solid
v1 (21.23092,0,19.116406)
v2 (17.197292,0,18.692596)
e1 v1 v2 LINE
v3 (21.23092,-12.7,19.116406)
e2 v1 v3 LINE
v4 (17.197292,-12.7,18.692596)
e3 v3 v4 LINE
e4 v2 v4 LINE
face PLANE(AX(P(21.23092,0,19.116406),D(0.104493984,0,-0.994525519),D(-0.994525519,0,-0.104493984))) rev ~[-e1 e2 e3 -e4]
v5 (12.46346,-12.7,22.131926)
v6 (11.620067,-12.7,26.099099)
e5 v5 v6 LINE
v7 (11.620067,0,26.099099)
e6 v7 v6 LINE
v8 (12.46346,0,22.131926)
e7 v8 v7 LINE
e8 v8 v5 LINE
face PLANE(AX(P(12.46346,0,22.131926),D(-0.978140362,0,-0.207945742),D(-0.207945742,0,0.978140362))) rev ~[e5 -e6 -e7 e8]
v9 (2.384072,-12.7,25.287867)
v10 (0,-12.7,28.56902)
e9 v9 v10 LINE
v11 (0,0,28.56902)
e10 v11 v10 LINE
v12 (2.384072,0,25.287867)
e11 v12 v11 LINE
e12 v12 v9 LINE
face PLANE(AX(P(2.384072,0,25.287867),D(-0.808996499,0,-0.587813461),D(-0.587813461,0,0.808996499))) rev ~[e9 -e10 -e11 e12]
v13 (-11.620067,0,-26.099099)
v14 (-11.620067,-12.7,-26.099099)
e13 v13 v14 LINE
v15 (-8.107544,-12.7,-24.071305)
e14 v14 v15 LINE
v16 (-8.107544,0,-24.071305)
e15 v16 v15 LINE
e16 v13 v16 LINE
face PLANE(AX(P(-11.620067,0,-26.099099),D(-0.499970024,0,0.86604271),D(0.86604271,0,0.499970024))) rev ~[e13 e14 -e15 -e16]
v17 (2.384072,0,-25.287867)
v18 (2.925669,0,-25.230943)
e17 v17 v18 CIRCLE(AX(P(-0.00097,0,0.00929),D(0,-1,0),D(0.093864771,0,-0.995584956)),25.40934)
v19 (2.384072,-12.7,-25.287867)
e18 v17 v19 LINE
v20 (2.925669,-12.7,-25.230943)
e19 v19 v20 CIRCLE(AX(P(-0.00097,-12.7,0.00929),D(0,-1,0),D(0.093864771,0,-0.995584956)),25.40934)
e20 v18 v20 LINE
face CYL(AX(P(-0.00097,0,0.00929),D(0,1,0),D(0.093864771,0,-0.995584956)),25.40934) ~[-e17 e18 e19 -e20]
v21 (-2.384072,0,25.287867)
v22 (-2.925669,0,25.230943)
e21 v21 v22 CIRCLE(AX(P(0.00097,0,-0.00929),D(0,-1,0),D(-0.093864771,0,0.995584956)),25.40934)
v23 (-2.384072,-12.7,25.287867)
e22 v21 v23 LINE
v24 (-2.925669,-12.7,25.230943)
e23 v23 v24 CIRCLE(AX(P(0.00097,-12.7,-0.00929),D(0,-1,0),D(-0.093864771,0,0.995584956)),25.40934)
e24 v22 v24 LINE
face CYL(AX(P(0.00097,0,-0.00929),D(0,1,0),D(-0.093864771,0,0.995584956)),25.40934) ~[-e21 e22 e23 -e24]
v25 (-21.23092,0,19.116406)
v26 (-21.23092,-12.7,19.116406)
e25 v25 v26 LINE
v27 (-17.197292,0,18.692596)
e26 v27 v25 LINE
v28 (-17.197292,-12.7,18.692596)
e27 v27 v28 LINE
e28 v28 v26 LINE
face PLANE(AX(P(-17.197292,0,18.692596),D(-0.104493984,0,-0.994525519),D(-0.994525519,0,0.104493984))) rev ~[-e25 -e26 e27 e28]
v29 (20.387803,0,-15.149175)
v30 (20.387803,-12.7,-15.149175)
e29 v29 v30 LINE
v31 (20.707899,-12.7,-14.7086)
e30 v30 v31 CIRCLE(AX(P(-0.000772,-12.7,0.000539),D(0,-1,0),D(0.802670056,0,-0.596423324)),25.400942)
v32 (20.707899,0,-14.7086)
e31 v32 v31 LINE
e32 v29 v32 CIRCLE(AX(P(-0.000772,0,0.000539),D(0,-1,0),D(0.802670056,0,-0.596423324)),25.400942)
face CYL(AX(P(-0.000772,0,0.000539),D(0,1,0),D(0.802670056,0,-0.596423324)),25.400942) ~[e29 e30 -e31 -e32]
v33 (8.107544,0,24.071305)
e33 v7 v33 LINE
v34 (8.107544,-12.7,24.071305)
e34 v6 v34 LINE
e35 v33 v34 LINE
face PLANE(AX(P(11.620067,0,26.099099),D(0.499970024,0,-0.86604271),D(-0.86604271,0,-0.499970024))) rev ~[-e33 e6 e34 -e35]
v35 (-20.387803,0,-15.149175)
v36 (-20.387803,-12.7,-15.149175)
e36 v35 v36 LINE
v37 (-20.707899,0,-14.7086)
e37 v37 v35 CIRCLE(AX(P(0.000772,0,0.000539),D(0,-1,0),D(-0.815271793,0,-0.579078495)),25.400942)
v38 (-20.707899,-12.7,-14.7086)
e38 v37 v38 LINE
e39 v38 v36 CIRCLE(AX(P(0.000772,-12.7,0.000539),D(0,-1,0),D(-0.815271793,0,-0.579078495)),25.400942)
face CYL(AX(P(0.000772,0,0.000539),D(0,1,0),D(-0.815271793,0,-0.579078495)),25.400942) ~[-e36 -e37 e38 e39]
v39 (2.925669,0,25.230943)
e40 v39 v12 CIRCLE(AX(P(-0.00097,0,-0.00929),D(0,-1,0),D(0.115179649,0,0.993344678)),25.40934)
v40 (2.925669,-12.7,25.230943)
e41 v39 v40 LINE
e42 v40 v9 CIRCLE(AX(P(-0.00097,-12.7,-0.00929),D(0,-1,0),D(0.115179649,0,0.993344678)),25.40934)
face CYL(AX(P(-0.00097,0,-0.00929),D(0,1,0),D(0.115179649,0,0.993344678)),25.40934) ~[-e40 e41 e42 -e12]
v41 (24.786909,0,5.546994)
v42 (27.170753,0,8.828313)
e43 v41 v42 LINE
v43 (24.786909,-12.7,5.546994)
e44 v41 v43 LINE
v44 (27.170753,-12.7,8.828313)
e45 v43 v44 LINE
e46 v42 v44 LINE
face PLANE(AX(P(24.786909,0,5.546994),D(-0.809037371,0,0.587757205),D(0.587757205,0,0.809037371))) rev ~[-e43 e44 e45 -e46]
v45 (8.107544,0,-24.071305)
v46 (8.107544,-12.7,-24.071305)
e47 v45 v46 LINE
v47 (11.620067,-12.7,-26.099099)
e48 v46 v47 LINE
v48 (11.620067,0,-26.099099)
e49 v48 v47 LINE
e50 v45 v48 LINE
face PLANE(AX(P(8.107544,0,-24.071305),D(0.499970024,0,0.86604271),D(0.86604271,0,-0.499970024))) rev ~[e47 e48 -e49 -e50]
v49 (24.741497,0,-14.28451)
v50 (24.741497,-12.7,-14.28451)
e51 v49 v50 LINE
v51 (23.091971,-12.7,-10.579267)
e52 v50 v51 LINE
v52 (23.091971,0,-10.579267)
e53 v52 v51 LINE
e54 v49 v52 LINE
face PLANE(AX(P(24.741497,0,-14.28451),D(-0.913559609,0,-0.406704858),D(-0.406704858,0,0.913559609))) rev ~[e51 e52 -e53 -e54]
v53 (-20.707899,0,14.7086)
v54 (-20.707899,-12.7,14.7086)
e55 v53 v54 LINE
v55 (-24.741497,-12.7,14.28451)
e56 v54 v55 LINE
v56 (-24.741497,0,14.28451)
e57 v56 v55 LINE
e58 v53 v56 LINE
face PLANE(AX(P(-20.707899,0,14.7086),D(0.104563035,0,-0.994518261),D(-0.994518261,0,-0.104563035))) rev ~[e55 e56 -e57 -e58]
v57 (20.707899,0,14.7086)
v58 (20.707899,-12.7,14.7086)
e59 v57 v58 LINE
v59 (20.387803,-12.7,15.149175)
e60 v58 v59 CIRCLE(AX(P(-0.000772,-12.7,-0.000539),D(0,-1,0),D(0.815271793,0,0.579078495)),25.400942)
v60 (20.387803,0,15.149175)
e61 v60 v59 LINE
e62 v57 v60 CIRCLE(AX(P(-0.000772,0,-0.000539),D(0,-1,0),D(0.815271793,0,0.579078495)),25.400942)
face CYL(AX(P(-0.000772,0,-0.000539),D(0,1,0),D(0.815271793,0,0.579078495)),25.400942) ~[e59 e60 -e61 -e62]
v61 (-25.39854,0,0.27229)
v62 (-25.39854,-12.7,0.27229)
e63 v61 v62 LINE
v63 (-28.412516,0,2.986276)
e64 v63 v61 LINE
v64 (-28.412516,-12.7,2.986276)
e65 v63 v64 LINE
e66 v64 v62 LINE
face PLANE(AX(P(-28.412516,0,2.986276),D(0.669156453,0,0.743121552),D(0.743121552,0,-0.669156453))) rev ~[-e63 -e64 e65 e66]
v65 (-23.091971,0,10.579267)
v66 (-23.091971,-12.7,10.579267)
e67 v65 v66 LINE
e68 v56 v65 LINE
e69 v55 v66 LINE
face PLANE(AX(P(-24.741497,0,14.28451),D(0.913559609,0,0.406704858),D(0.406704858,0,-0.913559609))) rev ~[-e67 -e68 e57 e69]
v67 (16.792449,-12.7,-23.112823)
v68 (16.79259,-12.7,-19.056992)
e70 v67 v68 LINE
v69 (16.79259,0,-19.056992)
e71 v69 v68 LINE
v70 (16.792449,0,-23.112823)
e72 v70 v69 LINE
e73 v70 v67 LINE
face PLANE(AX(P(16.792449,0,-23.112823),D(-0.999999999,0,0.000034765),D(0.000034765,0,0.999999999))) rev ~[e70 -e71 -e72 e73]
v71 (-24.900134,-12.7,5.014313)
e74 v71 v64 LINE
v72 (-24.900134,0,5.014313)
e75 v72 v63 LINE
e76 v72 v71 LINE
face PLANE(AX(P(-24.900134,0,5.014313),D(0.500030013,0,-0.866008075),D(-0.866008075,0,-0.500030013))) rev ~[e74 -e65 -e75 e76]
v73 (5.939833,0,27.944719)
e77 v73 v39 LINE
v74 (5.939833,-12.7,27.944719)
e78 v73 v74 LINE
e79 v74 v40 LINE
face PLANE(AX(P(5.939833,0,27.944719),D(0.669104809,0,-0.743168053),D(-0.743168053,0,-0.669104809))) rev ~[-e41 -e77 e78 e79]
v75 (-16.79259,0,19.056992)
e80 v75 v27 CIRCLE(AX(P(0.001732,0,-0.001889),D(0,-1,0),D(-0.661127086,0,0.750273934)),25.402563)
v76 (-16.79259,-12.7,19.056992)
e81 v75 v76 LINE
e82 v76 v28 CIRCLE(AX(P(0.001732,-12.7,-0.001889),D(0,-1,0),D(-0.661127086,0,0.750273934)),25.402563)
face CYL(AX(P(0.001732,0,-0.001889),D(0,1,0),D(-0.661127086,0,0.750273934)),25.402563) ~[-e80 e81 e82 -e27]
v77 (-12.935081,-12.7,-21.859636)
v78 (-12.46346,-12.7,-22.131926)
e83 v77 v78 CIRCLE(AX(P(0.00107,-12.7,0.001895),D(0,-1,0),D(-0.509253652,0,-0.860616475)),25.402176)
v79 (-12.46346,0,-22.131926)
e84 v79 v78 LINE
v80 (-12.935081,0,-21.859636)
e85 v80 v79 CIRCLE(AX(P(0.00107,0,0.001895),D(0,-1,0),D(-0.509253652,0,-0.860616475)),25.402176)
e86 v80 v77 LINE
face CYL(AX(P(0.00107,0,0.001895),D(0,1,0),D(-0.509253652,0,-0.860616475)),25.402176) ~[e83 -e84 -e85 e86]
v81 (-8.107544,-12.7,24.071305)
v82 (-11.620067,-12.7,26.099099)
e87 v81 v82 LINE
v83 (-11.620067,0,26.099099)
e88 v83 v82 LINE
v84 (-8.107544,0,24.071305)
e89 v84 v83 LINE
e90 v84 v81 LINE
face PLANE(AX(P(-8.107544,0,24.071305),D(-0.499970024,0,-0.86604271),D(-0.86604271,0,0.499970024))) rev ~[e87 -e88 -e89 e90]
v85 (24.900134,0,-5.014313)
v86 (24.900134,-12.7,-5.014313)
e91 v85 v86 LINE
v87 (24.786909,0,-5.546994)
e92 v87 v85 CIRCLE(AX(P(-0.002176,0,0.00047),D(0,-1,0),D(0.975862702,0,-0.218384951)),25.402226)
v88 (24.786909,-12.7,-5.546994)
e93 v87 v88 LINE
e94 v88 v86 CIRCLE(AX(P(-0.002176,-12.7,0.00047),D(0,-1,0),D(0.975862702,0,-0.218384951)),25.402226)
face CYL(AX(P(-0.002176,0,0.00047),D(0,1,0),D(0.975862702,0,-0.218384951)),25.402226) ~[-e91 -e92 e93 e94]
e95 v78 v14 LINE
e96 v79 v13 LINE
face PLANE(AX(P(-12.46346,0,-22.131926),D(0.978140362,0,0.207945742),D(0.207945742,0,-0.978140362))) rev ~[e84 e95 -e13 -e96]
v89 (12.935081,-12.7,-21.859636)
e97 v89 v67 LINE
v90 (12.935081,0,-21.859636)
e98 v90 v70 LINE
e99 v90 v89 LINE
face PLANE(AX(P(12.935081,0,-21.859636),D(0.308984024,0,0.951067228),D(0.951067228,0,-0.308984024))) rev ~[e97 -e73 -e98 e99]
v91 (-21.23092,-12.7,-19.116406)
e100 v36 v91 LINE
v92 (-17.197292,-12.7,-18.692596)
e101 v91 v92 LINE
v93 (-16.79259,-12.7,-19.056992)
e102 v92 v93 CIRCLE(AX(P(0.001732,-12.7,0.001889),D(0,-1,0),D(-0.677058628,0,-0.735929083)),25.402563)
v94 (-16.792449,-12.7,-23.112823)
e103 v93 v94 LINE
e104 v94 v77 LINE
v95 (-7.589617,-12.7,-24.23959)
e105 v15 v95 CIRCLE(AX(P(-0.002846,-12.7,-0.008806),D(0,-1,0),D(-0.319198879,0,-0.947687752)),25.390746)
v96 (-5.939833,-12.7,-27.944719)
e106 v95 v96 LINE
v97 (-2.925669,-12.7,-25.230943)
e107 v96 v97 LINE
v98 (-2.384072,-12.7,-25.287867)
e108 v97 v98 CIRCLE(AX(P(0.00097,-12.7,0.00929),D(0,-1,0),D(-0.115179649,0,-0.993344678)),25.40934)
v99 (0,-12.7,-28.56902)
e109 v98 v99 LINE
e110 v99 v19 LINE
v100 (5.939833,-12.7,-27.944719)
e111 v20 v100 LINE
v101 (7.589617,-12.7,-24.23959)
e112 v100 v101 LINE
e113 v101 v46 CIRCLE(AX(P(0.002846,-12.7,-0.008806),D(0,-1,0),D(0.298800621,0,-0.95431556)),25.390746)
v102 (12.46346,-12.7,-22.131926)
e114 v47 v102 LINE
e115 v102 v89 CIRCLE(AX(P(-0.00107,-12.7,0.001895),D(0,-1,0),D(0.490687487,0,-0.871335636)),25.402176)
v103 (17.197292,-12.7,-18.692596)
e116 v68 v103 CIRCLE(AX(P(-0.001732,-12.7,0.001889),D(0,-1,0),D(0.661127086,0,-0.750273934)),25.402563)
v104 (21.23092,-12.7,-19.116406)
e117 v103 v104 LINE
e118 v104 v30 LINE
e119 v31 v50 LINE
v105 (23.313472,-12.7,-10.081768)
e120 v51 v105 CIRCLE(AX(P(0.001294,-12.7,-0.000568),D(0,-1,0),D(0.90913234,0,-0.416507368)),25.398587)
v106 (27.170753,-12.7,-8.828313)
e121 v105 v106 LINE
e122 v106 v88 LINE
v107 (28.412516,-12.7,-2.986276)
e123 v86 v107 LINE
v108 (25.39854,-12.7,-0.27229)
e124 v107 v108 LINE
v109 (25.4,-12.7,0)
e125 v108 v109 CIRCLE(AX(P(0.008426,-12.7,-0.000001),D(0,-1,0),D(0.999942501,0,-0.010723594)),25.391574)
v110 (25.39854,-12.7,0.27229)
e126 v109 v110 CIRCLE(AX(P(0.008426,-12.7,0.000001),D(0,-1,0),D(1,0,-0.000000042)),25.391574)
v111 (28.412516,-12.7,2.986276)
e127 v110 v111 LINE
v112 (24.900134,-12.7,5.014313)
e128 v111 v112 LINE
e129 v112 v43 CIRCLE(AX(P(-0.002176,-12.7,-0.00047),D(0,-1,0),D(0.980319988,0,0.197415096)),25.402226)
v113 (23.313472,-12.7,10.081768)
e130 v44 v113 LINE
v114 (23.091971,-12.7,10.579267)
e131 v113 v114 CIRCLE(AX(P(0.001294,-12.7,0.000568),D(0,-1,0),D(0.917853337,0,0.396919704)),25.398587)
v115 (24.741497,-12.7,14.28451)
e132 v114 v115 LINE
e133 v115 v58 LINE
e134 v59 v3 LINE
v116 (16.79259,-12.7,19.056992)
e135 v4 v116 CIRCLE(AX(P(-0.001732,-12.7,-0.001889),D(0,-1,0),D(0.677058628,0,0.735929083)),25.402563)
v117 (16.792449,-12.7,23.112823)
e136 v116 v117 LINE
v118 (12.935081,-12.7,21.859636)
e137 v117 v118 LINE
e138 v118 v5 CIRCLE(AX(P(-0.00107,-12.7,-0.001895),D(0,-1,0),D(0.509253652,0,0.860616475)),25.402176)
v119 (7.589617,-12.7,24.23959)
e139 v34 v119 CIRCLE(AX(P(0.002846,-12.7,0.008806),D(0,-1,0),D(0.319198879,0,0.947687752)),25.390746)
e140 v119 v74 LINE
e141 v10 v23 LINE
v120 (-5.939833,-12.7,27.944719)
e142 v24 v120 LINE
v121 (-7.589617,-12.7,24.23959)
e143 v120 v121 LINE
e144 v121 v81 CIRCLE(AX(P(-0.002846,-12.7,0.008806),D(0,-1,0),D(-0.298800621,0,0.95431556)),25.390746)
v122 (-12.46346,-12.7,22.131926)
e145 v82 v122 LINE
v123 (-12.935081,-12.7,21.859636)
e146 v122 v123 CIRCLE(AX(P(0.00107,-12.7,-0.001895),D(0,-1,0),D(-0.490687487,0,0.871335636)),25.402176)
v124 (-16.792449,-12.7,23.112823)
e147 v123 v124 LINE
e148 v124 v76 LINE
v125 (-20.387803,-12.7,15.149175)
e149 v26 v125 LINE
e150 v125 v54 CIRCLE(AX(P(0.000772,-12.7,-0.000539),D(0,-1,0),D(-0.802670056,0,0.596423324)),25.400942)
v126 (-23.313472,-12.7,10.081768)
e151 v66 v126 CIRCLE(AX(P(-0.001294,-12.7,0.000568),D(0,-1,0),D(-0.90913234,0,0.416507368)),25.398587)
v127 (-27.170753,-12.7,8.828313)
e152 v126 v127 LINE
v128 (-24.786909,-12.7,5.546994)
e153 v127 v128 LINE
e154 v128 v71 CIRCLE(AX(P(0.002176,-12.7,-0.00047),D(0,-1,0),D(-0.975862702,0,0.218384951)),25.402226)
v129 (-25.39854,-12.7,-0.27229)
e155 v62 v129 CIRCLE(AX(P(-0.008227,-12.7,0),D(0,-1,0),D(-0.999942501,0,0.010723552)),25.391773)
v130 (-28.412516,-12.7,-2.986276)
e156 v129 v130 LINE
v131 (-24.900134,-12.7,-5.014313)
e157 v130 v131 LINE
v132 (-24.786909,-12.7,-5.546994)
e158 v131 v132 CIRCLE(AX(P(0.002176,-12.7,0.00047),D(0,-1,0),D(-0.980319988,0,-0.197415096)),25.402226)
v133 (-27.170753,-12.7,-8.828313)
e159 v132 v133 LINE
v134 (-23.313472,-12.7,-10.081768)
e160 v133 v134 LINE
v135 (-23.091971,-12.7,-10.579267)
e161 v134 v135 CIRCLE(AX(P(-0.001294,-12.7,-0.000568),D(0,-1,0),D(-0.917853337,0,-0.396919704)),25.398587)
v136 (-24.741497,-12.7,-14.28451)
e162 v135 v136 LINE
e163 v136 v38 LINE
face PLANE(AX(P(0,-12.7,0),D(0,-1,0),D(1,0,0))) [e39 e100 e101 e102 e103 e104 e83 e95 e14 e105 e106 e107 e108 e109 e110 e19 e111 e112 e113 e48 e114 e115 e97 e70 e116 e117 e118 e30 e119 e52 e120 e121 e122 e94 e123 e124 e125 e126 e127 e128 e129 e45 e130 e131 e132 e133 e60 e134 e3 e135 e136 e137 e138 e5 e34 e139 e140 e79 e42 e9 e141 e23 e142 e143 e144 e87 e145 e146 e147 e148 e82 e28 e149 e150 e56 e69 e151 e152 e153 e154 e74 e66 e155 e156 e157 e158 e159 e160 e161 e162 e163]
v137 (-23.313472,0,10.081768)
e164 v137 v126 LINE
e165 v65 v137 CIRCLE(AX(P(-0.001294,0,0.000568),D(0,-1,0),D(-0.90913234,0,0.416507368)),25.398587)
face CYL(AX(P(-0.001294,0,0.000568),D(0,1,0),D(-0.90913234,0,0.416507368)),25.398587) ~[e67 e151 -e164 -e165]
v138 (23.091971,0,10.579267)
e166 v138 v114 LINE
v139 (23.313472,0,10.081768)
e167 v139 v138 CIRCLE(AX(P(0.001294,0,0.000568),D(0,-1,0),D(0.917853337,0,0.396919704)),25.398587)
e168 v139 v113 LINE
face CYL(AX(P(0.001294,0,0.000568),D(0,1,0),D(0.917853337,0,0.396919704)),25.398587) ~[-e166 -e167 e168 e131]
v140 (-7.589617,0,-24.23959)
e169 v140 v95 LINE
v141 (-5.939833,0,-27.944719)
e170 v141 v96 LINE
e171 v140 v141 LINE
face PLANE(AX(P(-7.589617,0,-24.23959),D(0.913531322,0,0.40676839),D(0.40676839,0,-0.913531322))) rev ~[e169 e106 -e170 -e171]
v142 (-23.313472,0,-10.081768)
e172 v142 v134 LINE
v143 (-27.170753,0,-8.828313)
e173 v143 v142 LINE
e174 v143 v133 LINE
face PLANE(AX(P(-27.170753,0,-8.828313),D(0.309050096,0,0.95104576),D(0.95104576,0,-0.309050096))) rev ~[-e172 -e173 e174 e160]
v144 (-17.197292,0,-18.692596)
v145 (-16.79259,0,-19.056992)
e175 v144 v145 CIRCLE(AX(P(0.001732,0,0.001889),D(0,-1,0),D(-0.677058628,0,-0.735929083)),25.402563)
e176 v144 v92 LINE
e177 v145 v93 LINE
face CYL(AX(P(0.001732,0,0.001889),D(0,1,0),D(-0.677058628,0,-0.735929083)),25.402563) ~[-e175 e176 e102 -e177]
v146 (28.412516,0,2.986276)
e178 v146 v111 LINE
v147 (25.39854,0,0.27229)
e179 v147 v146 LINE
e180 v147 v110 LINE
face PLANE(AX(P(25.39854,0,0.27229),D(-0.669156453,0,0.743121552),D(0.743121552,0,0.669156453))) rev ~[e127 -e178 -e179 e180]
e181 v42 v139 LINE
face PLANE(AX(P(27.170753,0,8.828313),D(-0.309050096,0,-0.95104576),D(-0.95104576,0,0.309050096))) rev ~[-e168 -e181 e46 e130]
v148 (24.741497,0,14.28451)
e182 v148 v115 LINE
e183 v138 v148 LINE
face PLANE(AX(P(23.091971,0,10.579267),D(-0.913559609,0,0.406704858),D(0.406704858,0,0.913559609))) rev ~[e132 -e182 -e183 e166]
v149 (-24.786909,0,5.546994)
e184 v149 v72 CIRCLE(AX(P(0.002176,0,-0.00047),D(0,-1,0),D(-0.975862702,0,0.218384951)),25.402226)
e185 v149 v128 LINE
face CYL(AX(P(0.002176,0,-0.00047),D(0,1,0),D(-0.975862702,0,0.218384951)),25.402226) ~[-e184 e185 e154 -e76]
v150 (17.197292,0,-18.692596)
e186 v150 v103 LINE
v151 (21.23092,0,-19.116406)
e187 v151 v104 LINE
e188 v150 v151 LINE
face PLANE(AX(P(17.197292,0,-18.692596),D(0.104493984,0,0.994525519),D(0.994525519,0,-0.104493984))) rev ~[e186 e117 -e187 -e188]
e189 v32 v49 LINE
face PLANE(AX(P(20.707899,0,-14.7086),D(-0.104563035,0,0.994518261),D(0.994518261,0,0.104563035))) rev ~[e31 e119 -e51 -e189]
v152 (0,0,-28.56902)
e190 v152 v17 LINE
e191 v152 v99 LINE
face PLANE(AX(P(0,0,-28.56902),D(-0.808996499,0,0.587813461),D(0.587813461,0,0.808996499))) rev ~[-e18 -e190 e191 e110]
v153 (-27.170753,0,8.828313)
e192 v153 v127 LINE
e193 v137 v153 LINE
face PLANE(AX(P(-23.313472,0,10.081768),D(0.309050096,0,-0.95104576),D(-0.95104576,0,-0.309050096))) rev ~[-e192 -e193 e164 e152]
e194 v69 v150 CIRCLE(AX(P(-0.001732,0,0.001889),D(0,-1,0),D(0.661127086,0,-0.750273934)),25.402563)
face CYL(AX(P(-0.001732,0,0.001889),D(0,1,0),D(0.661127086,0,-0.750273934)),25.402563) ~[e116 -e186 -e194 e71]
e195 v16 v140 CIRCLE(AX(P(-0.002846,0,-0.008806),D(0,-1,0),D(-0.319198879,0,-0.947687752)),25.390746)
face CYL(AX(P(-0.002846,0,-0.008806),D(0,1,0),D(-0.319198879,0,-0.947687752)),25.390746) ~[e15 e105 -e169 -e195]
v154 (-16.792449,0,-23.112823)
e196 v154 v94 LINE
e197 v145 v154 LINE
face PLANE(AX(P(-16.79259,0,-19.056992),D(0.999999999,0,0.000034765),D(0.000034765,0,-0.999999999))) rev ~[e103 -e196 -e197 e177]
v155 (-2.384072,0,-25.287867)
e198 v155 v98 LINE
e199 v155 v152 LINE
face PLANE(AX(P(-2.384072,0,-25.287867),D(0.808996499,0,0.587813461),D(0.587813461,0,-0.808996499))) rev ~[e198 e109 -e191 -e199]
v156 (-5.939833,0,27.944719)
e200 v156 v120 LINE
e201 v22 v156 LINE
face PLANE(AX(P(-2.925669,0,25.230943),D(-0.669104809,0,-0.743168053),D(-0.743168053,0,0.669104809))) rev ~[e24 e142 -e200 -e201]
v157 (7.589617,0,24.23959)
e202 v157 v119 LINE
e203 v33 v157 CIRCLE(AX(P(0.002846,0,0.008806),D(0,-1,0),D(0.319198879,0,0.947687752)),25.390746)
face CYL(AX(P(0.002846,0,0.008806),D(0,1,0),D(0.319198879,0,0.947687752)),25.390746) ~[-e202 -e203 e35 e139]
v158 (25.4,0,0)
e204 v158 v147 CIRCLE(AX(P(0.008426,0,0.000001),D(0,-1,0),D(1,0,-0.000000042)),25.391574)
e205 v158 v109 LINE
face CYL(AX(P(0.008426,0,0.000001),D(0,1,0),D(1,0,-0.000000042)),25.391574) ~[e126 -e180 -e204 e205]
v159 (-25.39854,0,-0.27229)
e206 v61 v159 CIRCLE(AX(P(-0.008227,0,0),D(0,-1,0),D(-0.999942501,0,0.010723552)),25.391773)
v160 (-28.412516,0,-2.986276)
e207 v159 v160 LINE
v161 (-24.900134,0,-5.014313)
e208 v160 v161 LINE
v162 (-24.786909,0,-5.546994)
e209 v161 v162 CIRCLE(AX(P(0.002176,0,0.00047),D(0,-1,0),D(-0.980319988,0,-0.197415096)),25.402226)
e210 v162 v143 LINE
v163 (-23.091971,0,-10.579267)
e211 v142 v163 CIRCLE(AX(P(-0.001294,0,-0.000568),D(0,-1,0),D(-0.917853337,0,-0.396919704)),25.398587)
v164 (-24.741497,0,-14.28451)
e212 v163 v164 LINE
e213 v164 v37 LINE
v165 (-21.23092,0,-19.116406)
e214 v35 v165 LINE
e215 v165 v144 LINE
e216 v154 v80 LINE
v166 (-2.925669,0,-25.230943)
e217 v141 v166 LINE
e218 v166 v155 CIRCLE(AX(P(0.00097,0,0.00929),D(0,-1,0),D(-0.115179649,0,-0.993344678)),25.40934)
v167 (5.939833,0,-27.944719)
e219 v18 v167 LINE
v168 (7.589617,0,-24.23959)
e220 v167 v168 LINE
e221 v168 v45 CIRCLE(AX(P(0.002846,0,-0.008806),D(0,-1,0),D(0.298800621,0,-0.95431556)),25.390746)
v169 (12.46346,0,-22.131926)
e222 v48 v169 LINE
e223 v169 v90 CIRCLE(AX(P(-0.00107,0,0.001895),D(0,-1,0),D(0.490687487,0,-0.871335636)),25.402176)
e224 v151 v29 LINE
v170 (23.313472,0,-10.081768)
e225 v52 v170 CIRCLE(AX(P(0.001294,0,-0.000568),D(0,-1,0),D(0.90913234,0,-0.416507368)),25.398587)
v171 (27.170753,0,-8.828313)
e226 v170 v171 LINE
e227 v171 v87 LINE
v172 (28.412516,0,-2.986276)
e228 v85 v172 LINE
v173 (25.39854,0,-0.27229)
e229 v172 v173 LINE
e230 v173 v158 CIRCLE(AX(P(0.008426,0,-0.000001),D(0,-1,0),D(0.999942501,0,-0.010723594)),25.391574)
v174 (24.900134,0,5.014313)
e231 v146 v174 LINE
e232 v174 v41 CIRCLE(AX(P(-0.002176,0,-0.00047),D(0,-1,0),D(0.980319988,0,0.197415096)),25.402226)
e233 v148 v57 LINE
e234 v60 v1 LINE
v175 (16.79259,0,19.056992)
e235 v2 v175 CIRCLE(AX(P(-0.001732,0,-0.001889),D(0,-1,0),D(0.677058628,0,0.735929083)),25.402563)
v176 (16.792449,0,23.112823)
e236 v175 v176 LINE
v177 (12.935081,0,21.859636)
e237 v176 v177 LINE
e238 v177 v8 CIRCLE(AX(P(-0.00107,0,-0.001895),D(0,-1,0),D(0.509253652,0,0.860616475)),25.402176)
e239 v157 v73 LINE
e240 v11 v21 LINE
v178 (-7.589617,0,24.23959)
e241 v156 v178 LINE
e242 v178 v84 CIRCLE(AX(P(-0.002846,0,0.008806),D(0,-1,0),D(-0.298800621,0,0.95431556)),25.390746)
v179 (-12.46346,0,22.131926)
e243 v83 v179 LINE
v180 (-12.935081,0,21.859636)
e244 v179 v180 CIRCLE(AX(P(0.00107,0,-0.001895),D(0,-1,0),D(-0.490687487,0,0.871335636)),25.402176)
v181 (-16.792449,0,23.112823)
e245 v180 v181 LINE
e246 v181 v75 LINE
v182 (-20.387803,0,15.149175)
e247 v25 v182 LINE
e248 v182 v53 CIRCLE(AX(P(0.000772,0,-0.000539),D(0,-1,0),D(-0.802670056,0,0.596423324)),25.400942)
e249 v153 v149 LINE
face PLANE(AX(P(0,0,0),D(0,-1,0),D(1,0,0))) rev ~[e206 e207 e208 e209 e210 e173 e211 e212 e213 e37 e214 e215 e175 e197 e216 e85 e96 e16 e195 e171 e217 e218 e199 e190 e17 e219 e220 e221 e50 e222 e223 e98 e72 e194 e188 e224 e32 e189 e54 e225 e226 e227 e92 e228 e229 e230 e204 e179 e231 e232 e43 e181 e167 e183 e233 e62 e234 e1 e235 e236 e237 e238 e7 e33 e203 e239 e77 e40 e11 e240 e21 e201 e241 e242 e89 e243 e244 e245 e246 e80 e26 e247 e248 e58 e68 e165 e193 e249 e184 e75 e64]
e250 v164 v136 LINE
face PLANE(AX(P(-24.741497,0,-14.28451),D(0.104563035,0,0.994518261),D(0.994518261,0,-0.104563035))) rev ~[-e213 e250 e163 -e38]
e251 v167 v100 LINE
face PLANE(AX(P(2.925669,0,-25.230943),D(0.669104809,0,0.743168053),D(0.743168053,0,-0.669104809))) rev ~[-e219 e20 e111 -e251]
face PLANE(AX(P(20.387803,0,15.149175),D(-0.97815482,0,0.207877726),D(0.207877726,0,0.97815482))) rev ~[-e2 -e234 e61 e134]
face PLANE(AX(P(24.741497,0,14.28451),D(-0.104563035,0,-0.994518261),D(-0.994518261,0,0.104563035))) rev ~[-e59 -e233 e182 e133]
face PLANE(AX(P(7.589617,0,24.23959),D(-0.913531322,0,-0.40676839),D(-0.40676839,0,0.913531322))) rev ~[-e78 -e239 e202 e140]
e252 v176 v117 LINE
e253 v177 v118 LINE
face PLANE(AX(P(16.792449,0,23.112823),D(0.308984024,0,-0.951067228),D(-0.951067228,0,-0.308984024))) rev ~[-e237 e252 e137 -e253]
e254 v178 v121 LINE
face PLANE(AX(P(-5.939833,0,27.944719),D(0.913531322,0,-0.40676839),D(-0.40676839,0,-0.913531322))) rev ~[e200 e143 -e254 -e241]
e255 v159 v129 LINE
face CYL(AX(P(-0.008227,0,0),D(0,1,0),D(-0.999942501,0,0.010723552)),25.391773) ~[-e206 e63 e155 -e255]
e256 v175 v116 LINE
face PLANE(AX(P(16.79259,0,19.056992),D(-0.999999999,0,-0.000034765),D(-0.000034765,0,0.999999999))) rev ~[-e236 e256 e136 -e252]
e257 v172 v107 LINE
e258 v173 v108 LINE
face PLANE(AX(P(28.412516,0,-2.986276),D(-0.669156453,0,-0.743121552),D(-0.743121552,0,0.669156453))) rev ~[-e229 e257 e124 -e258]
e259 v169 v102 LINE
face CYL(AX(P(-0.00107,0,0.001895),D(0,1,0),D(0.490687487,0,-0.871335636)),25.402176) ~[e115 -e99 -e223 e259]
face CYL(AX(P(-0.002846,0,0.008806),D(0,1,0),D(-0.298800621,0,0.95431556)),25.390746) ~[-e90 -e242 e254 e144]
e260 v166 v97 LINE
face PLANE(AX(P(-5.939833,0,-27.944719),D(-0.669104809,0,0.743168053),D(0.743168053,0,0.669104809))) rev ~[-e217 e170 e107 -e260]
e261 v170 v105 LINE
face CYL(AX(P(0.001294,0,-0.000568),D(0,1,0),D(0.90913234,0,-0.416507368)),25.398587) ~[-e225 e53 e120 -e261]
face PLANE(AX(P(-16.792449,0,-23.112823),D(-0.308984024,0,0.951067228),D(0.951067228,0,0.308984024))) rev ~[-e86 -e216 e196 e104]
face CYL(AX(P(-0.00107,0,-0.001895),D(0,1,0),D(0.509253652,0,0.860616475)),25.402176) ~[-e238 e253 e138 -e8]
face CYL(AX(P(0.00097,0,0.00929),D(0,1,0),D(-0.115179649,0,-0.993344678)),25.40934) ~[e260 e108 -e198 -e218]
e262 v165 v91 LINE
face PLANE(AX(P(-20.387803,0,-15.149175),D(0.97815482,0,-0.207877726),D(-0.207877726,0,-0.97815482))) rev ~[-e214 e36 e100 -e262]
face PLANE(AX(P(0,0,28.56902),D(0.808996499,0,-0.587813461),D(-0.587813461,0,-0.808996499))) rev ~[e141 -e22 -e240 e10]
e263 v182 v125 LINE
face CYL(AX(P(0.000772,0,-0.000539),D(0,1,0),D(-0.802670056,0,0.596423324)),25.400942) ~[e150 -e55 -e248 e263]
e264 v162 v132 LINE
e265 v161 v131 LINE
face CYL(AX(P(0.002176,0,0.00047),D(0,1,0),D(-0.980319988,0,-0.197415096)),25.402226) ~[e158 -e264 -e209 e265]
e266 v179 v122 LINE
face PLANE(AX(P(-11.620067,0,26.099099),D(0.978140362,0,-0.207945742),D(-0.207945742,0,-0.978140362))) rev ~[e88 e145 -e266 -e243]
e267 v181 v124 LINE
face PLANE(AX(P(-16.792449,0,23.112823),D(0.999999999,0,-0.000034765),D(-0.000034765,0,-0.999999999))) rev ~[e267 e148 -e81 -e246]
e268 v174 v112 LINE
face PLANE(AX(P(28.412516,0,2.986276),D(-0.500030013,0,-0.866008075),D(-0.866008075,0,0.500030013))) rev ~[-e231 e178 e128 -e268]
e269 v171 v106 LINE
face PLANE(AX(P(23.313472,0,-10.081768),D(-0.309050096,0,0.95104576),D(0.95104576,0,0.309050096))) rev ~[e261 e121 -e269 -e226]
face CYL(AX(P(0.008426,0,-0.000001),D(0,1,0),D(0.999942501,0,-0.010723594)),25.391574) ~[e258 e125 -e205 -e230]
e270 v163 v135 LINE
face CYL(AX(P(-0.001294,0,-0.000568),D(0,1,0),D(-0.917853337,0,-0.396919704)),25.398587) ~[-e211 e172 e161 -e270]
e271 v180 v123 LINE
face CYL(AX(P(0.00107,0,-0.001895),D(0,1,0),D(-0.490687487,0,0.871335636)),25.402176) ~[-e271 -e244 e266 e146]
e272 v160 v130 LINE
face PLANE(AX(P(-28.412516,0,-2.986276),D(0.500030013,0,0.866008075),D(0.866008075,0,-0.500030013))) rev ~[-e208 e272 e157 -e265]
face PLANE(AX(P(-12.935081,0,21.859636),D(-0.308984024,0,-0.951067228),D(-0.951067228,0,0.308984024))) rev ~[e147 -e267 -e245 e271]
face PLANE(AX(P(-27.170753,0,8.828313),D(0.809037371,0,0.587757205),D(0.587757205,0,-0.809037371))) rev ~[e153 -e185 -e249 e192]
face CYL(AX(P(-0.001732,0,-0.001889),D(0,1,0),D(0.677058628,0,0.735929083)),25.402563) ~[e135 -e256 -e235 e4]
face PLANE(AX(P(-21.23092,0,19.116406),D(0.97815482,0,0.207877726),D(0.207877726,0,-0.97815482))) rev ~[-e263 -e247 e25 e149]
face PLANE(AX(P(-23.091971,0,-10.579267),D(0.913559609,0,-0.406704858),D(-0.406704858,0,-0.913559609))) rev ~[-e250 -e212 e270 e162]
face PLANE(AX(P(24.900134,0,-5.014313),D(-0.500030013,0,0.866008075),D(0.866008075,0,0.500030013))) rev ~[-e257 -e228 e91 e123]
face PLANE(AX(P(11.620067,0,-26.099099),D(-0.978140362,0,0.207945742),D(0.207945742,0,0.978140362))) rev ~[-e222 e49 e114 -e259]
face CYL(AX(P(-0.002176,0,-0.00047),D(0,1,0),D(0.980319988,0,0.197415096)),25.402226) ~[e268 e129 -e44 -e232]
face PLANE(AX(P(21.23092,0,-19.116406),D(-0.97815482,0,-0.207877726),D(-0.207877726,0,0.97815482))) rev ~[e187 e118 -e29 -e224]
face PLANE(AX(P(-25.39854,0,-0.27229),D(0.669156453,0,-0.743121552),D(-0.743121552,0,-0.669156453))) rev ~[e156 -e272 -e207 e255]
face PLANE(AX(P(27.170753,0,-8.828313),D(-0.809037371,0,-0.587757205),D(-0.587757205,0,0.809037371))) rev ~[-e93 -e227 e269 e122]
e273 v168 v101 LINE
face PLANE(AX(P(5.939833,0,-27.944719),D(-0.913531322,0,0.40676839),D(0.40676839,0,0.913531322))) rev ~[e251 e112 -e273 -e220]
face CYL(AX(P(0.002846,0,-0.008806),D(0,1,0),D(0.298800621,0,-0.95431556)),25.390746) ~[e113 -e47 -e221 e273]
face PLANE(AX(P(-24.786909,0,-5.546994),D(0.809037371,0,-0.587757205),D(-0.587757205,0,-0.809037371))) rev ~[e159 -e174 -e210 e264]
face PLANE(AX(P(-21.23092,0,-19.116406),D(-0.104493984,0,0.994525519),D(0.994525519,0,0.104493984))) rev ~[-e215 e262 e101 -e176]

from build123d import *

# Parameters (mm, degrees)
F1_DEPTH = 12.7


with BuildPart() as f1:
    # F0 (on Front) → F1 (new body)
    with BuildSketch(Plane.XZ):
        with BuildLine():
            ThreePointArc((25.39854, -0.27229), (25.399635, -0.136147), (25.4, 0))
            ThreePointArc((25.4, 0), (25.399635, 0.136147), (25.39854, 0.27229))
            ThreePointArc((25.39854, 0.27229), (25.260856, 2.655023), (24.900134, 5.014313))
            ThreePointArc((24.900134, 5.014313), (24.844949, 5.280957), (24.786909, 5.546994))
            ThreePointArc((24.786909, 5.546994), (24.156836, 7.849032), (23.313472, 10.081768))
            ThreePointArc((23.313472, 10.081768), (23.204055, 10.331111), (23.091971, 10.579267))
            ThreePointArc((23.091971, 10.579267), (21.997045, 12.7), (20.707899, 14.7086))
            ThreePointArc((20.707899, 14.7086), (20.549032, 14.929745), (20.387803, 15.149175))
            ThreePointArc((20.387803, 15.149175), (18.875879, 16.995917), (17.197292, 18.692596))
            ThreePointArc((17.197292, 18.692596), (16.995917, 18.875879), (16.79259, 19.056992))
            ThreePointArc((16.79259, 19.056992), (14.929745, 20.549032), (12.935081, 21.859636))
            ThreePointArc((12.935081, 21.859636), (12.7, 21.997045), (12.46346, 22.131926))
            ThreePointArc((12.46346, 22.131926), (10.331111, 23.204055), (8.107544, 24.071305))
            ThreePointArc((8.107544, 24.071305), (7.849032, 24.156836), (7.589617, 24.23959))
            ThreePointArc((7.589617, 24.23959), (5.280957, 24.844949), (2.925669, 25.230943))
            ThreePointArc((2.925669, 25.230943), (2.655023, 25.260856), (2.384072, 25.287867))
            ThreePointArc((2.384072, 25.287867), (0, 25.4), (-2.384072, 25.287867))
            ThreePointArc((-2.384072, 25.287867), (-2.655023, 25.260856), (-2.925669, 25.230943))
            ThreePointArc((-2.925669, 25.230943), (-5.280957, 24.844949), (-7.589617, 24.23959))
            ThreePointArc((-7.589617, 24.23959), (-7.849032, 24.156836), (-8.107544, 24.071305))
            ThreePointArc((-8.107544, 24.071305), (-10.331111, 23.204055), (-12.46346, 22.131926))
            ThreePointArc((-12.46346, 22.131926), (-12.7, 21.997045), (-12.935081, 21.859636))
            ThreePointArc((-12.935081, 21.859636), (-14.929745, 20.549032), (-16.79259, 19.056992))
            ThreePointArc((-16.79259, 19.056992), (-16.995917, 18.875879), (-17.197292, 18.692596))
            ThreePointArc((-17.197292, 18.692596), (-18.875879, 16.995917), (-20.387803, 15.149175))
            ThreePointArc((-20.387803, 15.149175), (-20.549032, 14.929745), (-20.707899, 14.7086))
            ThreePointArc((-20.707899, 14.7086), (-21.997045, 12.7), (-23.091971, 10.579267))
            ThreePointArc((-23.091971, 10.579267), (-23.204055, 10.331111), (-23.313472, 10.081768))
            ThreePointArc((-23.313472, 10.081768), (-24.156836, 7.849032), (-24.786909, 5.546994))
            ThreePointArc((-24.786909, 5.546994), (-24.844949, 5.280957), (-24.900134, 5.014313))
            ThreePointArc((-24.900134, 5.014313), (-25.260856, 2.655023), (-25.39854, 0.27229))
            ThreePointArc((-25.39854, 0.27229), (-25.4, 0), (-25.39854, -0.27229))
            ThreePointArc((-25.39854, -0.27229), (-25.260856, -2.655023), (-24.900134, -5.014313))
            ThreePointArc((-24.900134, -5.014313), (-24.844949, -5.280957), (-24.786909, -5.546994))
            ThreePointArc((-24.786909, -5.546994), (-24.156836, -7.849032), (-23.313472, -10.081768))
            ThreePointArc((-23.313472, -10.081768), (-23.204055, -10.331111), (-23.091971, -10.579267))
            ThreePointArc((-23.091971, -10.579267), (-21.997045, -12.7), (-20.707899, -14.7086))
            ThreePointArc((-20.707899, -14.7086), (-20.549032, -14.929745), (-20.387803, -15.149175))
            ThreePointArc((-20.387803, -15.149175), (-18.875879, -16.995917), (-17.197292, -18.692596))
            ThreePointArc((-17.197292, -18.692596), (-16.995917, -18.875879), (-16.79259, -19.056992))
            ThreePointArc((-16.79259, -19.056992), (-14.929745, -20.549032), (-12.935081, -21.859636))
            ThreePointArc((-12.935081, -21.859636), (-12.7, -21.997045), (-12.46346, -22.131926))
            ThreePointArc((-12.46346, -22.131926), (-10.331111, -23.204055), (-8.107544, -24.071305))
            ThreePointArc((-8.107544, -24.071305), (-7.849032, -24.156836), (-7.589617, -24.23959))
            ThreePointArc((-7.589617, -24.23959), (-5.280957, -24.844949), (-2.925669, -25.230943))
            ThreePointArc((-2.925669, -25.230943), (-2.655023, -25.260856), (-2.384072, -25.287867))
            ThreePointArc((-2.384072, -25.287867), (0, -25.4), (2.384072, -25.287867))
            ThreePointArc((2.384072, -25.287867), (2.655023, -25.260856), (2.925669, -25.230943))
            ThreePointArc((2.925669, -25.230943), (5.280957, -24.844949), (7.589617, -24.23959))
            ThreePointArc((7.589617, -24.23959), (7.849032, -24.156836), (8.107544, -24.071305))
            ThreePointArc((8.107544, -24.071305), (10.331111, -23.204055), (12.46346, -22.131926))
            ThreePointArc((12.46346, -22.131926), (12.7, -21.997045), (12.935081, -21.859636))
            ThreePointArc((12.935081, -21.859636), (14.929745, -20.549032), (16.79259, -19.056992))
            ThreePointArc((16.79259, -19.056992), (16.995917, -18.875879), (17.197292, -18.692596))
            ThreePointArc((17.197292, -18.692596), (18.875879, -16.995917), (20.387803, -15.149175))
            ThreePointArc((20.387803, -15.149175), (20.549032, -14.929745), (20.707899, -14.7086))
            ThreePointArc((20.707899, -14.7086), (21.997045, -12.7), (23.091971, -10.579267))
            ThreePointArc((23.091971, -10.579267), (23.204055, -10.331111), (23.313472, -10.081768))
            ThreePointArc((23.313472, -10.081768), (24.156836, -7.849032), (24.786909, -5.546994))
            ThreePointArc((24.786909, -5.546994), (24.844949, -5.280957), (24.900134, -5.014313))
            ThreePointArc((24.900134, -5.014313), (25.260856, -2.655023), (25.39854, -0.27229))
        make_face()
        with BuildLine():
            ThreePointArc((24.900134, 5.014313), (25.260856, 2.655023), (25.39854, 0.27229))
            Line((25.39854, 0.27229), (28.412516, 2.986276))
            Line((28.412516, 2.986276), (24.900134, 5.014313))
        make_face()
        with BuildLine():
            Line((28.412516, -2.986276), (25.39854, -0.27229))
            ThreePointArc((25.39854, -0.27229), (25.260856, -2.655023), (24.900134, -5.014313))
            Line((24.900134, -5.014313), (28.412516, -2.986276))
        make_face()
        with BuildLine():
            ThreePointArc((23.313472, 10.081768), (24.156836, 7.849032), (24.786909, 5.546994))
            Line((24.786909, 5.546994), (27.170753, 8.828313))
            Line((27.170753, 8.828313), (23.313472, 10.081768))
        make_face()
        with BuildLine():
            Line((27.170753, -8.828313), (24.786909, -5.546994))
            ThreePointArc((24.786909, -5.546994), (24.156836, -7.849032), (23.313472, -10.081768))
            Line((23.313472, -10.081768), (27.170753, -8.828313))
        make_face()
        with BuildLine():
            ThreePointArc((20.707899, 14.7086), (21.997045, 12.7), (23.091971, 10.579267))
            Line((23.091971, 10.579267), (24.741497, 14.28451))
            Line((24.741497, 14.28451), (20.707899, 14.7086))
        make_face()
        with BuildLine():
            Line((24.741497, -14.28451), (23.091971, -10.579267))
            ThreePointArc((23.091971, -10.579267), (21.997045, -12.7), (20.707899, -14.7086))
            Line((20.707899, -14.7086), (24.741497, -14.28451))
        make_face()
        with BuildLine():
            ThreePointArc((17.197292, 18.692596), (18.875879, 16.995917), (20.387803, 15.149175))
            Line((20.387803, 15.149175), (21.23092, 19.116406))
            Line((21.23092, 19.116406), (17.197292, 18.692596))
        make_face()
        with BuildLine():
            Line((21.23092, -19.116406), (20.387803, -15.149175))
            ThreePointArc((20.387803, -15.149175), (18.875879, -16.995917), (17.197292, -18.692596))
            Line((17.197292, -18.692596), (21.23092, -19.116406))
        make_face()
        with BuildLine():
            ThreePointArc((12.935081, 21.859636), (14.929745, 20.549032), (16.79259, 19.056992))
            Line((16.79259, 19.056992), (16.792449, 23.112823))
            Line((16.792449, 23.112823), (12.935081, 21.859636))
        make_face()
        with BuildLine():
            Line((16.792449, -23.112823), (16.79259, -19.056992))
            ThreePointArc((16.79259, -19.056992), (14.929745, -20.549032), (12.935081, -21.859636))
            Line((12.935081, -21.859636), (16.792449, -23.112823))
        make_face()
        with BuildLine():
            ThreePointArc((8.107544, 24.071305), (10.331111, 23.204055), (12.46346, 22.131926))
            Line((12.46346, 22.131926), (11.620067, 26.099099))
            Line((11.620067, 26.099099), (8.107544, 24.071305))
        make_face()
        with BuildLine():
            Line((11.620067, -26.099099), (12.46346, -22.131926))
            ThreePointArc((12.46346, -22.131926), (10.331111, -23.204055), (8.107544, -24.071305))
            Line((8.107544, -24.071305), (11.620067, -26.099099))
        make_face()
        with BuildLine():
            ThreePointArc((2.925669, 25.230943), (5.280957, 24.844949), (7.589617, 24.23959))
            Line((7.589617, 24.23959), (5.939833, 27.944719))
            Line((5.939833, 27.944719), (2.925669, 25.230943))
        make_face()
        with BuildLine():
            Line((5.939833, -27.944719), (7.589617, -24.23959))
            ThreePointArc((7.589617, -24.23959), (5.280957, -24.844949), (2.925669, -25.230943))
            Line((2.925669, -25.230943), (5.939833, -27.944719))
        make_face()
        with BuildLine():
            ThreePointArc((-2.384072, 25.287867), (0, 25.4), (2.384072, 25.287867))
            Line((2.384072, 25.287867), (0, 28.56902))
            Line((0, 28.56902), (-2.384072, 25.287867))
        make_face()
        with BuildLine():
            Line((0, -28.56902), (2.384072, -25.287867))
            ThreePointArc((2.384072, -25.287867), (0, -25.4), (-2.384072, -25.287867))
            Line((-2.384072, -25.287867), (0, -28.56902))
        make_face()
        with BuildLine():
            ThreePointArc((-7.589617, 24.23959), (-5.280957, 24.844949), (-2.925669, 25.230943))
            Line((-2.925669, 25.230943), (-5.939833, 27.944719))
            Line((-5.939833, 27.944719), (-7.589617, 24.23959))
        make_face()
        with BuildLine():
            Line((-5.939833, -27.944719), (-2.925669, -25.230943))
            ThreePointArc((-2.925669, -25.230943), (-5.280957, -24.844949), (-7.589617, -24.23959))
            Line((-7.589617, -24.23959), (-5.939833, -27.944719))
        make_face()
        with BuildLine():
            ThreePointArc((-12.46346, 22.131926), (-10.331111, 23.204055), (-8.107544, 24.071305))
            Line((-8.107544, 24.071305), (-11.620067, 26.099099))
            Line((-11.620067, 26.099099), (-12.46346, 22.131926))
        make_face()
        with BuildLine():
            Line((-11.620067, -26.099099), (-8.107544, -24.071305))
            ThreePointArc((-8.107544, -24.071305), (-10.331111, -23.204055), (-12.46346, -22.131926))
            Line((-12.46346, -22.131926), (-11.620067, -26.099099))
        make_face()
        with BuildLine():
            ThreePointArc((-16.79259, 19.056992), (-14.929745, 20.549032), (-12.935081, 21.859636))
            Line((-12.935081, 21.859636), (-16.792449, 23.112823))
            Line((-16.792449, 23.112823), (-16.79259, 19.056992))
        make_face()
        with BuildLine():
            Line((-16.792449, -23.112823), (-12.935081, -21.859636))
            ThreePointArc((-12.935081, -21.859636), (-14.929745, -20.549032), (-16.79259, -19.056992))
            Line((-16.79259, -19.056992), (-16.792449, -23.112823))
        make_face()
        with BuildLine():
            ThreePointArc((-20.387803, 15.149175), (-18.875879, 16.995917), (-17.197292, 18.692596))
            Line((-17.197292, 18.692596), (-21.23092, 19.116406))
            Line((-21.23092, 19.116406), (-20.387803, 15.149175))
        make_face()
        with BuildLine():
            Line((-21.23092, -19.116406), (-17.197292, -18.692596))
            ThreePointArc((-17.197292, -18.692596), (-18.875879, -16.995917), (-20.387803, -15.149175))
            Line((-20.387803, -15.149175), (-21.23092, -19.116406))
        make_face()
        with BuildLine():
            ThreePointArc((-23.091971, 10.579267), (-21.997045, 12.7), (-20.707899, 14.7086))
            Line((-20.707899, 14.7086), (-24.741497, 14.28451))
            Line((-24.741497, 14.28451), (-23.091971, 10.579267))
        make_face()
        with BuildLine():
            Line((-24.741497, -14.28451), (-20.707899, -14.7086))
            ThreePointArc((-20.707899, -14.7086), (-21.997045, -12.7), (-23.091971, -10.579267))
            Line((-23.091971, -10.579267), (-24.741497, -14.28451))
        make_face()
        with BuildLine():
            ThreePointArc((-24.786909, 5.546994), (-24.156836, 7.849032), (-23.313472, 10.081768))
            Line((-23.313472, 10.081768), (-27.170753, 8.828313))
            Line((-27.170753, 8.828313), (-24.786909, 5.546994))
        make_face()
        with BuildLine():
            Line((-27.170753, -8.828313), (-23.313472, -10.081768))
            ThreePointArc((-23.313472, -10.081768), (-24.156836, -7.849032), (-24.786909, -5.546994))
            Line((-24.786909, -5.546994), (-27.170753, -8.828313))
        make_face()
        with BuildLine():
            ThreePointArc((-25.39854, 0.27229), (-25.260856, 2.655023), (-24.900134, 5.014313))
            Line((-24.900134, 5.014313), (-28.412516, 2.986276))
            Line((-28.412516, 2.986276), (-25.39854, 0.27229))
        make_face()
        with BuildLine():
            Line((-28.412516, -2.986276), (-24.900134, -5.014313))
            ThreePointArc((-24.900134, -5.014313), (-25.260856, -2.655023), (-25.39854, -0.27229))
            Line((-25.39854, -0.27229), (-28.412516, -2.986276))
        make_face()
    extrude(amount=F1_DEPTH)


solid = f1.part
